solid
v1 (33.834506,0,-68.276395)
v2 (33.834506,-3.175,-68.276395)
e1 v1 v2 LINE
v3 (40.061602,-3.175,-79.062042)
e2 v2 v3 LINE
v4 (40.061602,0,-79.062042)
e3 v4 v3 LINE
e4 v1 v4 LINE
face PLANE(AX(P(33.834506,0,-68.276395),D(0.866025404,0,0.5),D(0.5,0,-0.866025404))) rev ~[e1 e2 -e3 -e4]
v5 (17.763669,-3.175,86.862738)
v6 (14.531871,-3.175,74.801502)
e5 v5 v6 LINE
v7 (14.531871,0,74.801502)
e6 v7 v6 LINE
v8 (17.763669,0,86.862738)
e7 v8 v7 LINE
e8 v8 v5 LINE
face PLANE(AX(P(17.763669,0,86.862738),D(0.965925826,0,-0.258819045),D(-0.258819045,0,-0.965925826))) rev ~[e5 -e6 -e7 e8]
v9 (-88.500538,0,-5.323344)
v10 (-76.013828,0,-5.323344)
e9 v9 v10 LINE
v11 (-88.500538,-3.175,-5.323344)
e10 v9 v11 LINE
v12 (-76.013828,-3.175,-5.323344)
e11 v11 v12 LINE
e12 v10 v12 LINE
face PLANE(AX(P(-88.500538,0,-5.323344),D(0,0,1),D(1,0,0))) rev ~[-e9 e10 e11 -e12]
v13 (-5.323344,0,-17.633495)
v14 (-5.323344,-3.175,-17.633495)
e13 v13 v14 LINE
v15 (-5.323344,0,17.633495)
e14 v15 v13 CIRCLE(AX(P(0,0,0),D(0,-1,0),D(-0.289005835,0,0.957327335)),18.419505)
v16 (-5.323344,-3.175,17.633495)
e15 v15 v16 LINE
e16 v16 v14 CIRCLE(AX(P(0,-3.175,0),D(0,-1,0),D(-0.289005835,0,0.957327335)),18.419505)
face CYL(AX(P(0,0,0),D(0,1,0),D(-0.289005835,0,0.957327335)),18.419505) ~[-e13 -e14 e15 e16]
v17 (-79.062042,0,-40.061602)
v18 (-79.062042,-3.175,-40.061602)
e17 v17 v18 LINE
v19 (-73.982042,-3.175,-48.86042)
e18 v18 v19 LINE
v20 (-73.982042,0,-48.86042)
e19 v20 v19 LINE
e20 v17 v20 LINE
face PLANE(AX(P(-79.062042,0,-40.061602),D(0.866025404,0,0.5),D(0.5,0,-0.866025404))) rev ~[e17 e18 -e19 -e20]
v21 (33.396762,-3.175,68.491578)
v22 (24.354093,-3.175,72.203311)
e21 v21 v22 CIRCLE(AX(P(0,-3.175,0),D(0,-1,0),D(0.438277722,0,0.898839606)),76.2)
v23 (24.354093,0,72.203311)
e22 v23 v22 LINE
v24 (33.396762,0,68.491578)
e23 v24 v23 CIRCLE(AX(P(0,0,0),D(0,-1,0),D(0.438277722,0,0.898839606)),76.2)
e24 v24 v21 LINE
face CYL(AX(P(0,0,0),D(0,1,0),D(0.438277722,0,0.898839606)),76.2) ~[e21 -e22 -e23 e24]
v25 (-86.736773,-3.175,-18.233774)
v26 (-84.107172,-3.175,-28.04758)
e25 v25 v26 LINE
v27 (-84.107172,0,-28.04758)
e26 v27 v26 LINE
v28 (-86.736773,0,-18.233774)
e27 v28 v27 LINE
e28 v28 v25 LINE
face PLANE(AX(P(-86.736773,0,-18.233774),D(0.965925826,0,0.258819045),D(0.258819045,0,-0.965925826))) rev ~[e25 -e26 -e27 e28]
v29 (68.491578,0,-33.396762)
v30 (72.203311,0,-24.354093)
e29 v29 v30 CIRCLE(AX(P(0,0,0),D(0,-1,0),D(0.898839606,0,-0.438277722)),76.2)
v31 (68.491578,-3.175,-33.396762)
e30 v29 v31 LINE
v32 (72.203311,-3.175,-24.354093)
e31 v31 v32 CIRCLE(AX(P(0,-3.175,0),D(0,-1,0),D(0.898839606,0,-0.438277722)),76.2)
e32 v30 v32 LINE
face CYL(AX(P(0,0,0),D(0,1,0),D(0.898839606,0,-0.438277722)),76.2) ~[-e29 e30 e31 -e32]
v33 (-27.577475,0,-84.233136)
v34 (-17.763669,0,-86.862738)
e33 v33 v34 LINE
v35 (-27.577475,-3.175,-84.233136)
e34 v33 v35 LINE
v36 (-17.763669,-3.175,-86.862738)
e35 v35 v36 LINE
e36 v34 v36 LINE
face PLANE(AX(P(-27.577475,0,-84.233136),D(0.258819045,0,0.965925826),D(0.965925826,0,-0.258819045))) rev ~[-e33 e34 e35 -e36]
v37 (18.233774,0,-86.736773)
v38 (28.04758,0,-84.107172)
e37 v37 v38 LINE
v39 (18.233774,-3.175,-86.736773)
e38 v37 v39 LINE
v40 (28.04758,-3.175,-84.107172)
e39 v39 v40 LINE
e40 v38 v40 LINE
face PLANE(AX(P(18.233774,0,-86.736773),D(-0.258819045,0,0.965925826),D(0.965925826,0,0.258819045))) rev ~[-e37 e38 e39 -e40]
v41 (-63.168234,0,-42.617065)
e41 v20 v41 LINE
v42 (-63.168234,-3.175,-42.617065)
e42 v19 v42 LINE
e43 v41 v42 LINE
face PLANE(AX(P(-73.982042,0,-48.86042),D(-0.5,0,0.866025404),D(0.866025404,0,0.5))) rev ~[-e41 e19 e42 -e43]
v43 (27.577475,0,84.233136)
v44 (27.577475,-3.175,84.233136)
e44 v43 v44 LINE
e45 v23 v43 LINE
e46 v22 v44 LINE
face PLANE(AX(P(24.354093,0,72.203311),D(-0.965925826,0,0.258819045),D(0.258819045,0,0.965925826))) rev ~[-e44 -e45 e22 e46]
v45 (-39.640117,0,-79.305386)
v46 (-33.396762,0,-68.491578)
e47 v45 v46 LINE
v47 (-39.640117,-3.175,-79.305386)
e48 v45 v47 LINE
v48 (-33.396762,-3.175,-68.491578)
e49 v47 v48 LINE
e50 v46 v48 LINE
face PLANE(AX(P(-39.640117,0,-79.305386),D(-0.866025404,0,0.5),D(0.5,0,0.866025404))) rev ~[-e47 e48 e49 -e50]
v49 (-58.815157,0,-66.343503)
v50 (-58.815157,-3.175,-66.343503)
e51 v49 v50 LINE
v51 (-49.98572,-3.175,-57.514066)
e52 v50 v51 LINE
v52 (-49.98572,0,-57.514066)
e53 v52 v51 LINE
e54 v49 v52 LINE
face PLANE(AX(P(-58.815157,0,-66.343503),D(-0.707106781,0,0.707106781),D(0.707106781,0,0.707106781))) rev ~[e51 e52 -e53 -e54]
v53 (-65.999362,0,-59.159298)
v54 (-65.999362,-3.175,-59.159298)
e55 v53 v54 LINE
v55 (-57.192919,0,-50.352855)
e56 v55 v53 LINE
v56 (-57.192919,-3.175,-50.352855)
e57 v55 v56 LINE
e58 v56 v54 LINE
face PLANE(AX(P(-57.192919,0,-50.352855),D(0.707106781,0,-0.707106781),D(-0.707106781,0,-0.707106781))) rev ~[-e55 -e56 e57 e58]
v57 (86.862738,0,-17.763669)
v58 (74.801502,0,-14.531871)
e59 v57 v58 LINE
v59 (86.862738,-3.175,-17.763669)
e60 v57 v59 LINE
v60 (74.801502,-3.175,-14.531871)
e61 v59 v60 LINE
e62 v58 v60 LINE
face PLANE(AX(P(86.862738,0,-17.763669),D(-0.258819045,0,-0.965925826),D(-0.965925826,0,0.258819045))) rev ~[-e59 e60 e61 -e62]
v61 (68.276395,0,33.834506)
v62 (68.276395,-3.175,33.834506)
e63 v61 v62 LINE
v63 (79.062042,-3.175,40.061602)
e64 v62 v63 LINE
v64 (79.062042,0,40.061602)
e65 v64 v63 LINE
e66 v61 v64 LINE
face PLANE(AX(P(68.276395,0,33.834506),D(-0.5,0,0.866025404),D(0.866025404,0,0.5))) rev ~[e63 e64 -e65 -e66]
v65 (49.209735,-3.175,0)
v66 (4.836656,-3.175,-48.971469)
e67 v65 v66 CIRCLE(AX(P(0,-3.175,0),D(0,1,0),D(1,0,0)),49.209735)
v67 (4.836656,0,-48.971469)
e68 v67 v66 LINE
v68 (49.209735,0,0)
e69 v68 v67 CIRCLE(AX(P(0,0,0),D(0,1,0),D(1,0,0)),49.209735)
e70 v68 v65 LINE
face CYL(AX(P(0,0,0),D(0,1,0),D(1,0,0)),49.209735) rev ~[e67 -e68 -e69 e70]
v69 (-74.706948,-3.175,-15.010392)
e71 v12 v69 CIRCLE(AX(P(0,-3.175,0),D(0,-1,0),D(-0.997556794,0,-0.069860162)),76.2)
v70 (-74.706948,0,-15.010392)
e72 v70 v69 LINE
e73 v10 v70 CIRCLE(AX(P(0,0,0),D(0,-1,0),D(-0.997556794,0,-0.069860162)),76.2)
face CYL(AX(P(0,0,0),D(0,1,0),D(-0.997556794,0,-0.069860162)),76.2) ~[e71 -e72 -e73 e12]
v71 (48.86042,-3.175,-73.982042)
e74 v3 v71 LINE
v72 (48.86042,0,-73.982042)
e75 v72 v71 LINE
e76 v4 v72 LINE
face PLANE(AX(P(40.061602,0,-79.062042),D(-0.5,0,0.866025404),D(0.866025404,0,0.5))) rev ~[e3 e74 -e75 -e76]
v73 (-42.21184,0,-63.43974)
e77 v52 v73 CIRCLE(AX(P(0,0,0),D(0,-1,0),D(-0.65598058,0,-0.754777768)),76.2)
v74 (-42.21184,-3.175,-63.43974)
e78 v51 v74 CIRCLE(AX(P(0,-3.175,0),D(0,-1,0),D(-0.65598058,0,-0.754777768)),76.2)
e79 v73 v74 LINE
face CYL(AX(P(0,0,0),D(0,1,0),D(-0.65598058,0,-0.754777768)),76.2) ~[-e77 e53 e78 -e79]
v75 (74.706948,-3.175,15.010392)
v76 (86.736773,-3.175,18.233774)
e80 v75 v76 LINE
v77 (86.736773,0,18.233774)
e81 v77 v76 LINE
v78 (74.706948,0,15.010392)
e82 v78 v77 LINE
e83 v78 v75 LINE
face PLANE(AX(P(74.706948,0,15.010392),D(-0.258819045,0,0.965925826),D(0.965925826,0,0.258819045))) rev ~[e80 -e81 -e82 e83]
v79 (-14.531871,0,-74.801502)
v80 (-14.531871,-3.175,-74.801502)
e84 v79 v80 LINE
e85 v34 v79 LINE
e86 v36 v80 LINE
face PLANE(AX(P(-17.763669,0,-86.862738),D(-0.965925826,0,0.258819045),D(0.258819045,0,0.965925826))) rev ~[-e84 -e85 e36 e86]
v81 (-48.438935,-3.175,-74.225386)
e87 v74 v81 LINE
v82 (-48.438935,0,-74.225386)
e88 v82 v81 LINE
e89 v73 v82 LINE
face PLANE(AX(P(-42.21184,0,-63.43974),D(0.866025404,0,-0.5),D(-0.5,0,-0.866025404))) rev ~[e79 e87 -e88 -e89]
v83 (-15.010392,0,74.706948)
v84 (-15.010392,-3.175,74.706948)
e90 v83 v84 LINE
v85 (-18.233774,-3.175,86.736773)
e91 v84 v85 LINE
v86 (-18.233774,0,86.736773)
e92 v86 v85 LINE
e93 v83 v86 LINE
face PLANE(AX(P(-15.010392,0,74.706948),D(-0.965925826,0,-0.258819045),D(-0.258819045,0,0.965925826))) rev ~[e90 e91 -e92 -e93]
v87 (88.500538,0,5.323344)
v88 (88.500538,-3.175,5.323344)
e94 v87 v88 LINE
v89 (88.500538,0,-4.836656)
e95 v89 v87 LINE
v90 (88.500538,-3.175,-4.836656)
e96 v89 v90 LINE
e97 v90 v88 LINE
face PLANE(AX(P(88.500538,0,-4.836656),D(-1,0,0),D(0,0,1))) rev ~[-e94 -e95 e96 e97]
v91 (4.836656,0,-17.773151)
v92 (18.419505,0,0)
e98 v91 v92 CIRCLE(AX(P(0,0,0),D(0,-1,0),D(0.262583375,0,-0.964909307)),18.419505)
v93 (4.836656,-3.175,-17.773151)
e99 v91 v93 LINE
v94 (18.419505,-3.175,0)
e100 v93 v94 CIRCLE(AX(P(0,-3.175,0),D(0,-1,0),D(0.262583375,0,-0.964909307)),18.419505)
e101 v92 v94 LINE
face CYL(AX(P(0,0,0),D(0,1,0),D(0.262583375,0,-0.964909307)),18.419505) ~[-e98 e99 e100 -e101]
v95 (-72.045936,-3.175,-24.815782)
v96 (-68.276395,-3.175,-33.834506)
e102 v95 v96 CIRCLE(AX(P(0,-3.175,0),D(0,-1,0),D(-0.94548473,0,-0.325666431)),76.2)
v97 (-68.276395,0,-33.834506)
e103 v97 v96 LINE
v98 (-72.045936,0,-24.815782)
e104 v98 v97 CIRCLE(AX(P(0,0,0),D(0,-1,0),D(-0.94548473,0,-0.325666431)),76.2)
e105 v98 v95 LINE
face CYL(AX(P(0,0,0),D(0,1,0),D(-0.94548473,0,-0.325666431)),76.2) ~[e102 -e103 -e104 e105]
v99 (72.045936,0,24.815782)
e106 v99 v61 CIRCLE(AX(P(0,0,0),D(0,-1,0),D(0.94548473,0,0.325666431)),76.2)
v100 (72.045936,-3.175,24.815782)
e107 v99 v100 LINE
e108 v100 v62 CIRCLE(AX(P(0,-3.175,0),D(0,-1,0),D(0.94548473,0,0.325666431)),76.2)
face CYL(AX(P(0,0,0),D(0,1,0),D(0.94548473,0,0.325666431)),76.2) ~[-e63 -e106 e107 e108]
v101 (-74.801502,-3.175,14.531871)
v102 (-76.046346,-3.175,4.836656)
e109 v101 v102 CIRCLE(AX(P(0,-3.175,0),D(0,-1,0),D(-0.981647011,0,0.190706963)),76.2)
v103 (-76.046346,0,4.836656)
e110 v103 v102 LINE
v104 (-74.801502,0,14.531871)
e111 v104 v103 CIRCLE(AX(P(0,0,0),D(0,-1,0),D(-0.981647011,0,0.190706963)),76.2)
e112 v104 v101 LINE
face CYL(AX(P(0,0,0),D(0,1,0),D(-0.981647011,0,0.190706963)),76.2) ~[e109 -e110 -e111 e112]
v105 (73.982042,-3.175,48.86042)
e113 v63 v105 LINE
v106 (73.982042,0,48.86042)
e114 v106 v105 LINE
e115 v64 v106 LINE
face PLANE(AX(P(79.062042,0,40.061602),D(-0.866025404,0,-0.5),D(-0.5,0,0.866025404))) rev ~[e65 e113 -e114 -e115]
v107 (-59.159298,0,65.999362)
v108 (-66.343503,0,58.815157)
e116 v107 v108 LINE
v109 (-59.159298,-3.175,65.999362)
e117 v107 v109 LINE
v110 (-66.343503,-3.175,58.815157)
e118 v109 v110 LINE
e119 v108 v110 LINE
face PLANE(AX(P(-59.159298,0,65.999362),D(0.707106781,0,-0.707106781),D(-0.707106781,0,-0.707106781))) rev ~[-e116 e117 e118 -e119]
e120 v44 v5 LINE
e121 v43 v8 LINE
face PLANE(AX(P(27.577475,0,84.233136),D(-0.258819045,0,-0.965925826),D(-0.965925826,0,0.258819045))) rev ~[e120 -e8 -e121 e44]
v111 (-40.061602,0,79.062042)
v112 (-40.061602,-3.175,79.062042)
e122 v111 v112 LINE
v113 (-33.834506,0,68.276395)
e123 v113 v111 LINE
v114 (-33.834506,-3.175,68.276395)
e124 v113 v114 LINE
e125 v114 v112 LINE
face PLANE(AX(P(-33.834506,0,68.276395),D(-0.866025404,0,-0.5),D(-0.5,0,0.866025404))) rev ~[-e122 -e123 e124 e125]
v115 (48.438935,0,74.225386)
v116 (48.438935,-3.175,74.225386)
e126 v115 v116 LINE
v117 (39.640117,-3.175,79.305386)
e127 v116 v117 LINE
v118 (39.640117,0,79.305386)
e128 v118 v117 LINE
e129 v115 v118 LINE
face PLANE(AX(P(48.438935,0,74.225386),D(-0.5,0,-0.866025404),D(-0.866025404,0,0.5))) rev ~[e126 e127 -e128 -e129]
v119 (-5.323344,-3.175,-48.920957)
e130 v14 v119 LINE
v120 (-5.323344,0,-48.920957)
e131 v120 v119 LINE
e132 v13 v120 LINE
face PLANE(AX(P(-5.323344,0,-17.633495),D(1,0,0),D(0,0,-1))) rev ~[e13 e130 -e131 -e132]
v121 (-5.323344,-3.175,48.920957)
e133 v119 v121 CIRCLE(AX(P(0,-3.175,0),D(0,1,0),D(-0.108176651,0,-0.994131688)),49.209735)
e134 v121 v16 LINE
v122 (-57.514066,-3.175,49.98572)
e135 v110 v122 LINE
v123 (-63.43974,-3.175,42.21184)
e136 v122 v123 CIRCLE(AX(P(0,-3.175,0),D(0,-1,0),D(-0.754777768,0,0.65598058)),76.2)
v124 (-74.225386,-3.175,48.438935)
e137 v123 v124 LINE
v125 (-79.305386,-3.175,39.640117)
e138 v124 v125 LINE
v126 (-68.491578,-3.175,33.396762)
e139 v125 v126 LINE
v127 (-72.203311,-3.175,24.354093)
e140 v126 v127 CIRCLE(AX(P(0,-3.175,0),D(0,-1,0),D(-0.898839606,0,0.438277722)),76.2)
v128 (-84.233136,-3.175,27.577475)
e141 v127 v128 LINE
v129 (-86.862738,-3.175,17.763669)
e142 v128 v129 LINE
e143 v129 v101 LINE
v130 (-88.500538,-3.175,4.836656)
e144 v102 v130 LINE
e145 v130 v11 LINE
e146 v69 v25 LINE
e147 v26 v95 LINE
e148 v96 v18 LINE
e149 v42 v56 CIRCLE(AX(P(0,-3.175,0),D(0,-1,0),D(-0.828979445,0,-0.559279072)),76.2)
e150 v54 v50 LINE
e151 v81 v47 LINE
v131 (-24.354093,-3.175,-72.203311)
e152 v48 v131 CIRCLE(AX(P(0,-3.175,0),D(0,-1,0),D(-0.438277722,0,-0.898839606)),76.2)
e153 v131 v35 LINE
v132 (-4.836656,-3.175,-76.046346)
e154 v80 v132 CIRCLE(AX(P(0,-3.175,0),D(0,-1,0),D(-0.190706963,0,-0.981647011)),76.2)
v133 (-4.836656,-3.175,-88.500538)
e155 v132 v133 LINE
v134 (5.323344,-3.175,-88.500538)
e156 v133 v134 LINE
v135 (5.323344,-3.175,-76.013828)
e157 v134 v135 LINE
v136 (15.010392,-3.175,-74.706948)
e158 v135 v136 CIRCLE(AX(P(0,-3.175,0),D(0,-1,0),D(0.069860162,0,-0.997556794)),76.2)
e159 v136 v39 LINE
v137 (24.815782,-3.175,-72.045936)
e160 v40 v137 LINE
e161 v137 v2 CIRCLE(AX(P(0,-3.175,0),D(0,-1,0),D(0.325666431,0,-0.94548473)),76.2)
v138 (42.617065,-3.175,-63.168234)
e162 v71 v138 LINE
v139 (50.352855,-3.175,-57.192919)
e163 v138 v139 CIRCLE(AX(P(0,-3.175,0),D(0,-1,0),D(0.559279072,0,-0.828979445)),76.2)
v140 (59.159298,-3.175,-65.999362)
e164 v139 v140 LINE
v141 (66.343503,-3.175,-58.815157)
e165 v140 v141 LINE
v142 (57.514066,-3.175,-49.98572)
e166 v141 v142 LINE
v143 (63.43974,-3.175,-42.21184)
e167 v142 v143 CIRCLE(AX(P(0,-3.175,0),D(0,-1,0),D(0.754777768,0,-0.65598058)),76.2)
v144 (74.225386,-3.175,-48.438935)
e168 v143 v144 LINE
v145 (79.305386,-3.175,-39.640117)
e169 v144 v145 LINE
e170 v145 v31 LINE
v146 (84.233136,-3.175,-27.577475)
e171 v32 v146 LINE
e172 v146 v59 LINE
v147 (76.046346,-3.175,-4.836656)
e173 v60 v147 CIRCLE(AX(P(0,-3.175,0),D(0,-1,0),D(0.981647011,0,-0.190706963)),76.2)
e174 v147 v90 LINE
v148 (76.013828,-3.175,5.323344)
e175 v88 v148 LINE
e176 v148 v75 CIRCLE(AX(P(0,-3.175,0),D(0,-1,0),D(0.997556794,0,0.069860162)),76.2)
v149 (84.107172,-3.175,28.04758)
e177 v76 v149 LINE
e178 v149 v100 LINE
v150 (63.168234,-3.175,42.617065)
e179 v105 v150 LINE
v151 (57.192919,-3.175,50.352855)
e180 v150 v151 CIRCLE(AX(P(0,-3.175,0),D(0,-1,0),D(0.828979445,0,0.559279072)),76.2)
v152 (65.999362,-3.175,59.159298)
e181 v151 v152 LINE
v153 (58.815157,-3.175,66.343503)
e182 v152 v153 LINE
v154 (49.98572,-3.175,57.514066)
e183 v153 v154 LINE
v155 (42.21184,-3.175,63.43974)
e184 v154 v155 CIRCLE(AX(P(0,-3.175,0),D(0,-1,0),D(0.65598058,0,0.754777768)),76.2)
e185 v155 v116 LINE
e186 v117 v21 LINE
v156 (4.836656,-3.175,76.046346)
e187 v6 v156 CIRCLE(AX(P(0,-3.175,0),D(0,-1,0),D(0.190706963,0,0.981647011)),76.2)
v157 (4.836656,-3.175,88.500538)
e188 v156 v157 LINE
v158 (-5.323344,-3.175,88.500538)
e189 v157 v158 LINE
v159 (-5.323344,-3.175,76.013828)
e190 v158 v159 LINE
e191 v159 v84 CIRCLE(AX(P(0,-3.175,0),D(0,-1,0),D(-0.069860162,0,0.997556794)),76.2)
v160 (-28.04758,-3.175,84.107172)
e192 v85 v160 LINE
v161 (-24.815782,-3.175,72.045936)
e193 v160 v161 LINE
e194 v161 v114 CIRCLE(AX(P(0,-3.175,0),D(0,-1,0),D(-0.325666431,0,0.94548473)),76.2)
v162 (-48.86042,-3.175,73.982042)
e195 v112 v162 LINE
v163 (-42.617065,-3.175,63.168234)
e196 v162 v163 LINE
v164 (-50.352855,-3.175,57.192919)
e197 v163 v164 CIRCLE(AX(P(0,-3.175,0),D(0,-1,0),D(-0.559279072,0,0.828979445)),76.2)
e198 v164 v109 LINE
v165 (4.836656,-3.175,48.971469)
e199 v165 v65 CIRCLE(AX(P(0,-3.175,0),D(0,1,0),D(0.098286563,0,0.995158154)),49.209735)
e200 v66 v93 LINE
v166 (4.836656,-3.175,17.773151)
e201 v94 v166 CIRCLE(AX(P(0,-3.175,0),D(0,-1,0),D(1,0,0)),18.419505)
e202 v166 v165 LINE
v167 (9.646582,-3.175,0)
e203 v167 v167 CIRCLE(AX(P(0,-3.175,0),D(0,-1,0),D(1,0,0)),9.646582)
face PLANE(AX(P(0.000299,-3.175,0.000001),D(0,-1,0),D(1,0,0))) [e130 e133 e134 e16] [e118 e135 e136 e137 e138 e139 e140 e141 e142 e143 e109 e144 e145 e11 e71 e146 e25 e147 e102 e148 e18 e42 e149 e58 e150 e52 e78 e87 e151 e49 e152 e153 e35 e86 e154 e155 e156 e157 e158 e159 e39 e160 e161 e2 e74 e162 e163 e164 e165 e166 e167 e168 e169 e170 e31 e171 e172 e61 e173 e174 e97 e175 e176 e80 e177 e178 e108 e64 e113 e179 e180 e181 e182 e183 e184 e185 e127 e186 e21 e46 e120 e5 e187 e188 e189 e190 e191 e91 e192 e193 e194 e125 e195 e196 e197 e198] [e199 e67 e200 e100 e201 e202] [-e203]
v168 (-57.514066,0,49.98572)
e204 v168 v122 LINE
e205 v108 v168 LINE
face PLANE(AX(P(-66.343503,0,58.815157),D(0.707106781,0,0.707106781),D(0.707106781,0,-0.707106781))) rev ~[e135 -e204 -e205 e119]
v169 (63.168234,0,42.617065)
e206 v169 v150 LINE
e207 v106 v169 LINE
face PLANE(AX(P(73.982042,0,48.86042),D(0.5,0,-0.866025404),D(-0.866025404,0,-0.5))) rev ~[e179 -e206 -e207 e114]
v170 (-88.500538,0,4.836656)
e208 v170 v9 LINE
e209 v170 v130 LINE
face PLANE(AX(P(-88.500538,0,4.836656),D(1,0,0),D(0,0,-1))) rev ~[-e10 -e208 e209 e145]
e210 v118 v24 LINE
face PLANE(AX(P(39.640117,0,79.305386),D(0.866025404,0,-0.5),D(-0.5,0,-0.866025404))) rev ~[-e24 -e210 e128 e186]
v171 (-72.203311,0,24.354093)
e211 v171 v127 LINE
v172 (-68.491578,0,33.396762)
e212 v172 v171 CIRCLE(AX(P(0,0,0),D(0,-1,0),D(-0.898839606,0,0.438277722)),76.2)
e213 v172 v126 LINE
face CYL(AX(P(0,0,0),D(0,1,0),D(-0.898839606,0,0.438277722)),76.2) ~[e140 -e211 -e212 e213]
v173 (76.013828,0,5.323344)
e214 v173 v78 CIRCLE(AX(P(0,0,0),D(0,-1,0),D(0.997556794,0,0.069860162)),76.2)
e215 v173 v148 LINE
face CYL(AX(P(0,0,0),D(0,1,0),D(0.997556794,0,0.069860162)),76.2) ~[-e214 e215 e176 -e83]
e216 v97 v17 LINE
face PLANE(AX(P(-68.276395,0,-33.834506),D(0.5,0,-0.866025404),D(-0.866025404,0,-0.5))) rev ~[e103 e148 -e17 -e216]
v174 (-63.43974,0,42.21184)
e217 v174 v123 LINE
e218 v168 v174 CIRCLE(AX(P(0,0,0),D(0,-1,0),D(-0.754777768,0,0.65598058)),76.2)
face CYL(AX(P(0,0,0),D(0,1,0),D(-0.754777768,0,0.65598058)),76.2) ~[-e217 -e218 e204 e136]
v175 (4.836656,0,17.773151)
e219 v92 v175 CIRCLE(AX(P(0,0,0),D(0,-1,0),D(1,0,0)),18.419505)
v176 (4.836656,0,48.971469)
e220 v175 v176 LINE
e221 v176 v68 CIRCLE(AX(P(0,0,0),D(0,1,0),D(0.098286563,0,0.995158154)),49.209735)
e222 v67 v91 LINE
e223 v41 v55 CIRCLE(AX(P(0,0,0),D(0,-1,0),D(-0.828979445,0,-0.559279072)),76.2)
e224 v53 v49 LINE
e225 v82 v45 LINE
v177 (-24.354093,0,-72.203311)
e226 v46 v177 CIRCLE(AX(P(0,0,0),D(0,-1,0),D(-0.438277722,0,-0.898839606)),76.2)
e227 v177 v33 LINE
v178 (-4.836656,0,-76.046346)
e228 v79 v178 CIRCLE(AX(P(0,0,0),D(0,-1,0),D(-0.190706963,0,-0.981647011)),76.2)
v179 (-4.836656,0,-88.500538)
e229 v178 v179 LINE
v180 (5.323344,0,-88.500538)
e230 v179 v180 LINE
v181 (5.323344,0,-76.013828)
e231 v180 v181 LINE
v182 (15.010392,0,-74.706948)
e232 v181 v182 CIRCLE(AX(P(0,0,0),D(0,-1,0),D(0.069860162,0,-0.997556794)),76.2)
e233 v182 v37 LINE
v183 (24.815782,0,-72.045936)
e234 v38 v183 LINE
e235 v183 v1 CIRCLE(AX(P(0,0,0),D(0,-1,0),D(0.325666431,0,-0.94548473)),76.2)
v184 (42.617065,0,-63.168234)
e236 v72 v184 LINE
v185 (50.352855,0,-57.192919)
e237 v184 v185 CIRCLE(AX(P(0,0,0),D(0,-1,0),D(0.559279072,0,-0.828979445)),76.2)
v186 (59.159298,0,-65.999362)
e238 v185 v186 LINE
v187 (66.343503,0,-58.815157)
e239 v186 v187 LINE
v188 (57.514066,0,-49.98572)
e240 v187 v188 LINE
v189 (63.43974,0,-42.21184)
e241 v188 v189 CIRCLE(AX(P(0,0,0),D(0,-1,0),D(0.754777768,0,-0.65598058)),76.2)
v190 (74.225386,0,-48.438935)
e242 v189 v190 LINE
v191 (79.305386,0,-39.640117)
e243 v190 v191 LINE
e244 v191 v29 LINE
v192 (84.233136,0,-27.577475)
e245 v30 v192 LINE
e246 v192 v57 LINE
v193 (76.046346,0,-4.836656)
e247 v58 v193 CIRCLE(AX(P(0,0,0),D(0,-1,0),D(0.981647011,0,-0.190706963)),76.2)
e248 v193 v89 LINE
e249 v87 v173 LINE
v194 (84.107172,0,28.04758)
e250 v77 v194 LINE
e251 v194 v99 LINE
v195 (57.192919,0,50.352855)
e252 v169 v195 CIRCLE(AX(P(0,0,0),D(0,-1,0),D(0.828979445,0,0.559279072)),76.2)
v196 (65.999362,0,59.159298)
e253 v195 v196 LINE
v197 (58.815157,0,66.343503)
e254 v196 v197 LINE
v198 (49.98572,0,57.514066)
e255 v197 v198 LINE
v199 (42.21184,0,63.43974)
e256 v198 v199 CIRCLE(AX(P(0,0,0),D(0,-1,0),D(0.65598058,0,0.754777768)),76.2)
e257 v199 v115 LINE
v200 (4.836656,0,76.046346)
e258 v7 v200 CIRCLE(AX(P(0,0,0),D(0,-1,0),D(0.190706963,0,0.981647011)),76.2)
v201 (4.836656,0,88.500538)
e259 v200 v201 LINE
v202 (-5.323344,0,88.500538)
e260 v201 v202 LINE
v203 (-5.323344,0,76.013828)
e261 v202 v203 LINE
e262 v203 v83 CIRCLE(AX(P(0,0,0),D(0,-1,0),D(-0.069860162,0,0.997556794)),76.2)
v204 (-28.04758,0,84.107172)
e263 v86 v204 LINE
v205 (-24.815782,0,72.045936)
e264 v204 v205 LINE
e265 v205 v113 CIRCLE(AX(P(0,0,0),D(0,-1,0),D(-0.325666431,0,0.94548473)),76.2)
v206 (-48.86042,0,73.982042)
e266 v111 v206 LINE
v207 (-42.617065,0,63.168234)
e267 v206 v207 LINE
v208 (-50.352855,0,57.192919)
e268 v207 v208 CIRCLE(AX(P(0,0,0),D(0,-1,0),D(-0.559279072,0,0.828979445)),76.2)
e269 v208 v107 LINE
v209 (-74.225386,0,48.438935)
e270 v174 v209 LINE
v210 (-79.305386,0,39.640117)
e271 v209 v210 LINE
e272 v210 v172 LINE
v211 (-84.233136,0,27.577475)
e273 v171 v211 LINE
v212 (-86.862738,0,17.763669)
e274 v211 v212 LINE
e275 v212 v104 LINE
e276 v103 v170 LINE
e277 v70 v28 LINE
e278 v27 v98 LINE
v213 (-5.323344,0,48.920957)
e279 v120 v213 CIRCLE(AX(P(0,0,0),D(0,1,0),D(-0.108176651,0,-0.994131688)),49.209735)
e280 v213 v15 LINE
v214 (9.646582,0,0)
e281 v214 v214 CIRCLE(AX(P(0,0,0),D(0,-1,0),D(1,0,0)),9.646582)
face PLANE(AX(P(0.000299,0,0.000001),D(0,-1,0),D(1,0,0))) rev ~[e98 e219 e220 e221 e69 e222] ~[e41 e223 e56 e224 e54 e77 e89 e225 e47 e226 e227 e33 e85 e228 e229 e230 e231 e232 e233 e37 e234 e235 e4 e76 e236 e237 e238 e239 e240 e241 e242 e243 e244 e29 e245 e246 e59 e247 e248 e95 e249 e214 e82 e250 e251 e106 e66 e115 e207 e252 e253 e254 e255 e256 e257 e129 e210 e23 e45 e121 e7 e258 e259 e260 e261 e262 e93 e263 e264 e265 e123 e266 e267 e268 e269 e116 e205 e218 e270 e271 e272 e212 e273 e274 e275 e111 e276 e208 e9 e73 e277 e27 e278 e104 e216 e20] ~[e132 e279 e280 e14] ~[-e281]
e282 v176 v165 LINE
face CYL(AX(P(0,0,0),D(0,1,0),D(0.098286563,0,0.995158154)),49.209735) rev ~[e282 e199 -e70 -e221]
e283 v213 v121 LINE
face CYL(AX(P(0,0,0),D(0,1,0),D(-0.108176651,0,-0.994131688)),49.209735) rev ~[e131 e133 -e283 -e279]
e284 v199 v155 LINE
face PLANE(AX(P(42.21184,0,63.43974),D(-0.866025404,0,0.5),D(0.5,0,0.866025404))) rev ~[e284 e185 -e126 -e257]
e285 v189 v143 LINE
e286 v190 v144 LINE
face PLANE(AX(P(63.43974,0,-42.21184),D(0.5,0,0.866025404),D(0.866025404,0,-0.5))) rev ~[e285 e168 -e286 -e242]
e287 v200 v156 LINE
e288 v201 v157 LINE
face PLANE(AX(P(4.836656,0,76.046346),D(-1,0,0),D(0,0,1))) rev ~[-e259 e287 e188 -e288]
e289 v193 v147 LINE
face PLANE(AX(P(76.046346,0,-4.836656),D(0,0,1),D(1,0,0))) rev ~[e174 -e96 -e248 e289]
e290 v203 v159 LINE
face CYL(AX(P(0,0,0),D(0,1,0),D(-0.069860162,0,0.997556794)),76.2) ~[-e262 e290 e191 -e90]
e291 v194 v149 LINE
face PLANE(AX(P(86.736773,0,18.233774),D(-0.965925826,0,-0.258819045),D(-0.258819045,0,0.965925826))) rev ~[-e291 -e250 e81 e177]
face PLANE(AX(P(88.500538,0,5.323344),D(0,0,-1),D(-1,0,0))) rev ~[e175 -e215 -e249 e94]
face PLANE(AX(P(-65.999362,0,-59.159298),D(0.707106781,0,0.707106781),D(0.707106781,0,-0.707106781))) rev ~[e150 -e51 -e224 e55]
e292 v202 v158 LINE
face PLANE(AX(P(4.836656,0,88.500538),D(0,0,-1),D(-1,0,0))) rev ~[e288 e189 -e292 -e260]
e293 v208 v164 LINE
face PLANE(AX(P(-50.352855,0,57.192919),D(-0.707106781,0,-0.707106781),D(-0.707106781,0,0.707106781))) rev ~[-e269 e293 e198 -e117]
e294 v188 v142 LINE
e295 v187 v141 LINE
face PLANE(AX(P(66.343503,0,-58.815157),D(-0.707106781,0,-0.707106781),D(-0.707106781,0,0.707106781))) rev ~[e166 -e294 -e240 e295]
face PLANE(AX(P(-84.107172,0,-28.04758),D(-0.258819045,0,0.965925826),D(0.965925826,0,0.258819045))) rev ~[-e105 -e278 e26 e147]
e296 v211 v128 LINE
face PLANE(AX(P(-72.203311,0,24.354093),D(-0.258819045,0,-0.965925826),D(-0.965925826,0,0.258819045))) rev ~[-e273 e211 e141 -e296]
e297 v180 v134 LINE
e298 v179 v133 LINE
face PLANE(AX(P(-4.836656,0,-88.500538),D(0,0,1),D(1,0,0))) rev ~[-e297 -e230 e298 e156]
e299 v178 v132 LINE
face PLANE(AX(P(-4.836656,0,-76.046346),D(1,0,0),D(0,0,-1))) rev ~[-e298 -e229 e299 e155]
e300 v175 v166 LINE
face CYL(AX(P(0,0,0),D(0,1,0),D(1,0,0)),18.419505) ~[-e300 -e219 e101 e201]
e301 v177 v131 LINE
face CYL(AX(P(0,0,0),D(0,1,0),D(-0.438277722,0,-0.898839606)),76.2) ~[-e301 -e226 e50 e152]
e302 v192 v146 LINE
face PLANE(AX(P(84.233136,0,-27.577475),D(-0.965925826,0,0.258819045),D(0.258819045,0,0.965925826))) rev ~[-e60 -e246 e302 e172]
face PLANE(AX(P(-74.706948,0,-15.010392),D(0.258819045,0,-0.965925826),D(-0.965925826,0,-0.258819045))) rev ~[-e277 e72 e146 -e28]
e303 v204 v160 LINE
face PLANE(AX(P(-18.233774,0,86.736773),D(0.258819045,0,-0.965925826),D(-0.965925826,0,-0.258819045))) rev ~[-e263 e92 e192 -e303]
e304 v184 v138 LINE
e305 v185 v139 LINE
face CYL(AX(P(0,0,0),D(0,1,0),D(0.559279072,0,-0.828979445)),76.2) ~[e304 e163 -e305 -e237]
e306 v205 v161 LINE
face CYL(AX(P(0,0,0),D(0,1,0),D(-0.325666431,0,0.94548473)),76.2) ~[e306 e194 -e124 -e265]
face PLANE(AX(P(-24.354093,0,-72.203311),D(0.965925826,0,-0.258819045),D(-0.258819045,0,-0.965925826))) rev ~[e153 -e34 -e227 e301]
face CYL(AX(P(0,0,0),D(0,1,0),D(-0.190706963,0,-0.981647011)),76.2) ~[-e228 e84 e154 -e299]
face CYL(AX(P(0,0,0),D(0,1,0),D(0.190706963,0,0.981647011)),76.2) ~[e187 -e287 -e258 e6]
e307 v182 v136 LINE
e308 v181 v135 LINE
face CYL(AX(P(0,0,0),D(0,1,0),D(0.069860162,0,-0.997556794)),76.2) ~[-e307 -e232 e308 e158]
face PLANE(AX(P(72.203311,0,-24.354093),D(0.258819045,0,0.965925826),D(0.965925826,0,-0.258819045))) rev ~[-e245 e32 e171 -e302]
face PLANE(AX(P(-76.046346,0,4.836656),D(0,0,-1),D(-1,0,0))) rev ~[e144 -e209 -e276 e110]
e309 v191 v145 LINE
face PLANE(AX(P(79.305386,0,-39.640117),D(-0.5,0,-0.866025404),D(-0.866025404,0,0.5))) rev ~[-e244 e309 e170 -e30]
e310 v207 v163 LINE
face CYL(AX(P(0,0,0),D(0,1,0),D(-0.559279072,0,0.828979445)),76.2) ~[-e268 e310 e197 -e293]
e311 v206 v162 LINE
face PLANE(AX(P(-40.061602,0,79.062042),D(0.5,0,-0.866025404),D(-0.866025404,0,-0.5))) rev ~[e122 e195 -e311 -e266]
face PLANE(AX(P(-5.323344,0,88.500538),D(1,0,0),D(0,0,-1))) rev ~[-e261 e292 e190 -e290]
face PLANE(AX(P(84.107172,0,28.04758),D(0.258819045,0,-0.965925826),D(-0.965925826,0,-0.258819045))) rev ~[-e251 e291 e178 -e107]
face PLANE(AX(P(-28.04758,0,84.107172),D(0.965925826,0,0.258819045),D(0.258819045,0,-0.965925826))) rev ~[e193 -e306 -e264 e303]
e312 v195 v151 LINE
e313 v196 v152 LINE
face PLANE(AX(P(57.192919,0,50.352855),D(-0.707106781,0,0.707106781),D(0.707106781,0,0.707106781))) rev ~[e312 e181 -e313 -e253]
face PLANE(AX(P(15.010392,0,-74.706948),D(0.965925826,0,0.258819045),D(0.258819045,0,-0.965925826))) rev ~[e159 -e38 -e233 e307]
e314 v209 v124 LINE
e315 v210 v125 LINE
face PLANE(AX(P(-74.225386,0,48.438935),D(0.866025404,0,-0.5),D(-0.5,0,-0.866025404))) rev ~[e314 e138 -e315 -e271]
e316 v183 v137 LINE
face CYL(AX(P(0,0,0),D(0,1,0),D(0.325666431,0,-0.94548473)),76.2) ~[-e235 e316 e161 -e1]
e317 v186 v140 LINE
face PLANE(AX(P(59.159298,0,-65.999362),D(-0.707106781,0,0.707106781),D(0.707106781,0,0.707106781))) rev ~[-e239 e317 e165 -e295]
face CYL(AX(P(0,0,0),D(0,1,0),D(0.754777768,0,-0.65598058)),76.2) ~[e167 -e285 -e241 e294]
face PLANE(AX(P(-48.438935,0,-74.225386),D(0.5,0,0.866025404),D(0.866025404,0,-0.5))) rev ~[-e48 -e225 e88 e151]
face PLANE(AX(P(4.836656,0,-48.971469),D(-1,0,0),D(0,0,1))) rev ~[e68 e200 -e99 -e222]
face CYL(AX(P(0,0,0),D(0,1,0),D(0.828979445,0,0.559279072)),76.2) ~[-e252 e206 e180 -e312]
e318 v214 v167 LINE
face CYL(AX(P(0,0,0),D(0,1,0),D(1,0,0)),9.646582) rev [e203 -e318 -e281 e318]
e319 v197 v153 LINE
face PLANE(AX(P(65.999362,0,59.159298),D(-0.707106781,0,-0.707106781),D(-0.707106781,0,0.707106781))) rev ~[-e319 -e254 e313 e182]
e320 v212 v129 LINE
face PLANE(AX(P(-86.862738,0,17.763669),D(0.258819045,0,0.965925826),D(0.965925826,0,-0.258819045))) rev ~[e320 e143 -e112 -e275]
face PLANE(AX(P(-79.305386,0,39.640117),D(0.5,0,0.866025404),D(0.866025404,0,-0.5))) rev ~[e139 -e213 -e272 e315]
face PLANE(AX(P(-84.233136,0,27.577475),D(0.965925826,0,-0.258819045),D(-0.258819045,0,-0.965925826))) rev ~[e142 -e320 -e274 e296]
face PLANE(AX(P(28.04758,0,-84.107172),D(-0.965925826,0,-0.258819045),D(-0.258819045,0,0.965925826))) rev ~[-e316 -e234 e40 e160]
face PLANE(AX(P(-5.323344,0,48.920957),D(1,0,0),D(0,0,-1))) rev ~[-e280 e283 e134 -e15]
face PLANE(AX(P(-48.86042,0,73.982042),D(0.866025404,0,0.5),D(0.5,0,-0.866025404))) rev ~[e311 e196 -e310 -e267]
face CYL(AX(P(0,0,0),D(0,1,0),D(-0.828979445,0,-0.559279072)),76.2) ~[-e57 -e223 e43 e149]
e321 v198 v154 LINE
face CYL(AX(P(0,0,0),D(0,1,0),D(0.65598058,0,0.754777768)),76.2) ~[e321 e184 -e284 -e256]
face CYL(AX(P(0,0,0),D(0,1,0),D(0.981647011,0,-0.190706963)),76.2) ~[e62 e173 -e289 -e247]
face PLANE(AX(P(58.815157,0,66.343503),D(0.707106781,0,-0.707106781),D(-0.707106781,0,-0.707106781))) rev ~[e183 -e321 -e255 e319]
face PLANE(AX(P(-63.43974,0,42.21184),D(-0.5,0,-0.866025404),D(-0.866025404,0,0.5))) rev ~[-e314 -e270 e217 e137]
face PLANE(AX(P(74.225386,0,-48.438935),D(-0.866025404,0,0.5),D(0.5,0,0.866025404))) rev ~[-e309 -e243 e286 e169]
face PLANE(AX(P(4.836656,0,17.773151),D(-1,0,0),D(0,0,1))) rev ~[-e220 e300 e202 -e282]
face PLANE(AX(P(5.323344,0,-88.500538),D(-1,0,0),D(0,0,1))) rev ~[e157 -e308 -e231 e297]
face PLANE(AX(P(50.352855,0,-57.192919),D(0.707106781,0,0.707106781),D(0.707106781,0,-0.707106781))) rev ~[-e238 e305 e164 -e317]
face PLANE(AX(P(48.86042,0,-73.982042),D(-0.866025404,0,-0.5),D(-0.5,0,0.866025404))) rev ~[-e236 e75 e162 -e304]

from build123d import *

# Parameters (mm, degrees)
F0_R     = 9.6465824974
F1_DEPTH = 3.175


with BuildPart() as f1:
    # F0 (on Front) → F1 (new body)
    with BuildSketch(Plane.XZ):
        with BuildLine():
            ThreePointArc((4.8366556875, 76.0463461434), (-0.2438868924, 76.1996097049), (-5.3233443125, 76.0138277245))
            ThreePointArc((-5.3233443125, 76.0138277245), (-10.1878453097, 75.5158778532), (-15.0103920509, 74.7069483414))
            ThreePointArc((-15.0103920509, 74.7069483414), (-19.9574868691, 73.5400483945), (-24.8157820599, 72.0459364625))
            ThreePointArc((-24.8157820599, 72.0459364625), (-29.3856502949, 70.3059283186), (-33.8345063769, 68.2763954689))
            ThreePointArc((-33.8345063769, 68.2763954689), (-38.311017097, 65.8688543167), (-42.6170652699, 63.1682336921))
            ThreePointArc((-42.6170652699, 63.1682336921), (-46.5808717746, 60.3047459551), (-50.3528550075, 57.1929190774))
            ThreePointArc((-50.3528550075, 57.1929190774), (-54.0537148216, 53.7088066706), (-57.5140659099, 49.985720186))
            ThreePointArc((-57.5140659099, 49.985720186), (-60.6016838214, 46.1938948131), (-63.4397397814, 42.2118397665))
            ThreePointArc((-63.4397397814, 42.2118397665), (-66.1127412091, 37.888592608), (-68.4915780045, 33.3967624546))
            ThreePointArc((-68.4915780045, 33.3967624546), (-70.4925912648, 28.9350060786), (-72.2033111283, 24.3540933338))
            ThreePointArc((-72.2033111283, 24.3540933338), (-73.6662935398, 19.4863335729), (-74.8015022459, 14.5318705526))
            ThreePointArc((-74.8015022459, 14.5318705526), (-75.579545108, 9.7042444972), (-76.0463461434, 4.8366556875))
            ThreePointArc((-76.0463461434, 4.8366556875), (-76.1996097049, -0.2438868924), (-76.0138277245, -5.3233443125))
            ThreePointArc((-76.0138277245, -5.3233443125), (-75.5158778532, -10.1878453097), (-74.7069483414, -15.0103920509))
            ThreePointArc((-74.7069483414, -15.0103920509), (-73.5400483945, -19.9574868691), (-72.0459364625, -24.8157820599))
            ThreePointArc((-72.0459364625, -24.8157820599), (-70.3059283186, -29.3856502949), (-68.2763954689, -33.8345063769))
            ThreePointArc((-68.2763954689, -33.8345063769), (-65.8688543167, -38.311017097), (-63.1682336921, -42.6170652699))
            ThreePointArc((-63.1682336921, -42.6170652699), (-60.3047459551, -46.5808717746), (-57.1929190774, -50.3528550075))
            ThreePointArc((-57.1929190774, -50.3528550075), (-53.7088066706, -54.0537148216), (-49.985720186, -57.5140659099))
            ThreePointArc((-49.985720186, -57.5140659099), (-46.1938948131, -60.6016838214), (-42.2118397665, -63.4397397814))
            ThreePointArc((-42.2118397665, -63.4397397814), (-37.888592608, -66.1127412091), (-33.3967624546, -68.4915780045))
            ThreePointArc((-33.3967624546, -68.4915780045), (-28.9350060786, -70.4925912648), (-24.3540933338, -72.2033111283))
            ThreePointArc((-24.3540933338, -72.2033111283), (-19.4863335729, -73.6662935398), (-14.5318705526, -74.8015022459))
            ThreePointArc((-14.5318705526, -74.8015022459), (-9.7042444972, -75.579545108), (-4.8366556875, -76.0463461434))
            ThreePointArc((-4.8366556875, -76.0463461434), (0.2438868924, -76.1996097049), (5.3233443125, -76.0138277245))
            ThreePointArc((5.3233443125, -76.0138277245), (10.1878453097, -75.5158778532), (15.0103920509, -74.7069483414))
            ThreePointArc((15.0103920509, -74.7069483414), (19.9574868691, -73.5400483945), (24.8157820599, -72.0459364625))
            ThreePointArc((24.8157820599, -72.0459364625), (29.3856502949, -70.3059283186), (33.8345063769, -68.2763954689))
            ThreePointArc((33.8345063769, -68.2763954689), (38.311017097, -65.8688543167), (42.6170652699, -63.1682336921))
            ThreePointArc((42.6170652699, -63.1682336921), (46.5808717746, -60.3047459551), (50.3528550075, -57.1929190774))
            ThreePointArc((50.3528550075, -57.1929190774), (54.0537148216, -53.7088066706), (57.5140659099, -49.985720186))
            ThreePointArc((57.5140659099, -49.985720186), (60.6016838214, -46.1938948131), (63.4397397814, -42.2118397665))
            ThreePointArc((63.4397397814, -42.2118397665), (66.1127412091, -37.888592608), (68.4915780045, -33.3967624546))
            ThreePointArc((68.4915780045, -33.3967624546), (70.4925912648, -28.9350060786), (72.2033111283, -24.3540933338))
            ThreePointArc((72.2033111283, -24.3540933338), (73.6662935398, -19.4863335729), (74.8015022459, -14.5318705526))
            ThreePointArc((74.8015022459, -14.5318705526), (75.579545108, -9.7042444972), (76.0463461434, -4.8366556875))
            ThreePointArc((76.0463461434, -4.8366556875), (76.1615768486, -2.4195478786), (76.2, 0))
            ThreePointArc((76.2, 0), (76.1534427082, 2.6632994004), (76.0138277245, 5.3233443125))
            ThreePointArc((76.0138277245, 5.3233443125), (75.5158778532, 10.1878453097), (74.7069483414, 15.0103920509))
            ThreePointArc((74.7069483414, 15.0103920509), (73.5400483945, 19.9574868691), (72.0459364625, 24.8157820599))
            ThreePointArc((72.0459364625, 24.8157820599), (70.3059283186, 29.3856502949), (68.2763954689, 33.8345063769))
            ThreePointArc((68.2763954689, 33.8345063769), (65.8688543167, 38.311017097), (63.1682336921, 42.6170652699))
            ThreePointArc((63.1682336921, 42.6170652699), (60.3047459551, 46.5808717746), (57.1929190774, 50.3528550075))
            ThreePointArc((57.1929190774, 50.3528550075), (53.7088066706, 54.0537148216), (49.985720186, 57.5140659099))
            ThreePointArc((49.985720186, 57.5140659099), (46.1938948131, 60.6016838214), (42.2118397665, 63.4397397814))
            ThreePointArc((42.2118397665, 63.4397397814), (37.888592608, 66.1127412091), (33.3967624546, 68.4915780045))
            ThreePointArc((33.3967624546, 68.4915780045), (28.9350060786, 70.4925912648), (24.3540933338, 72.2033111283))
            ThreePointArc((24.3540933338, 72.2033111283), (19.4863335729, 73.6662935398), (14.5318705526, 74.8015022459))
            ThreePointArc((14.5318705526, 74.8015022459), (9.7042444972, 75.579545108), (4.8366556875, 76.0463461434))
        make_face()
        with BuildLine():
            ThreePointArc((-5.3233443125, 48.920956801), (-0.2446514329, 49.2091267416), (4.8366556875, 48.9714689463))
            ThreePointArc((4.8366556875, 48.9714689463), (36.4664815494, 33.0423021656), (49.2097349007, 0))
            ThreePointArc((49.2097349007, 0), (36.4664815494, -33.0423021656), (4.8366556875, -48.9714689463))
            ThreePointArc((4.8366556875, -48.9714689463), (-0.2446514329, -49.2091267416), (-5.3233443125, -48.920956801))
            ThreePointArc((-5.3233443125, -48.920956801), (-49.2097349007, 0), (-5.3233443125, 48.920956801))
        make_face(mode=Mode.SUBTRACT)
        with BuildLine():
            ThreePointArc((4.8366556875, -17.7731514304), (14.6350085707, -11.1845730424), (18.4195046081, 0))
            ThreePointArc((18.4195046081, 0), (14.6350085707, 11.1845730424), (4.8366556875, 17.7731514304))
            ThreePointArc((4.8366556875, 17.7731514304), (-0.2531647989, 18.4177647284), (-5.3233443125, 17.6334952672))
            ThreePointArc((-5.3233443125, 17.6334952672), (-18.4195046081, 0), (-5.3233443125, -17.6334952672))
            ThreePointArc((-5.3233443125, -17.6334952672), (-0.2531647989, -18.4177647284), (4.8366556875, -17.7731514304))
        make_face()
        Circle(F0_R, mode=Mode.SUBTRACT)
        with BuildLine():
            ThreePointArc((-5.3233443125, 17.6334952672), (-0.2531647989, 18.4177647284), (4.8366556875, 17.7731514304))
            Line((4.8366556875, 17.7731514304), (4.8366556875, 48.9714689463))
            ThreePointArc((4.8366556875, 48.9714689463), (-0.2446514329, 49.2091267416), (-5.3233443125, 48.920956801))
            Line((-5.3233443125, 48.920956801), (-5.3233443125, 17.6334952672))
        make_face()
        with BuildLine():
            Line((4.8366556875, -48.9714689463), (4.8366556875, -17.7731514304))
            ThreePointArc((4.8366556875, -17.7731514304), (-0.2531647989, -18.4177647284), (-5.3233443125, -17.6334952672))
            Line((-5.3233443125, -17.6334952672), (-5.3233443125, -48.920956801))
            ThreePointArc((-5.3233443125, -48.920956801), (-0.2446514329, -49.2091267416), (4.8366556875, -48.9714689463))
        make_face()
        with BuildLine():
            ThreePointArc((5.3233443125, -76.0138277245), (0.2438868924, -76.1996097049), (-4.8366556875, -76.0463461434))
            Line((-4.8366556875, -76.0463461434), (-4.8366556875, -88.5005375114))
            Line((-4.8366556875, -88.5005375114), (5.3233443125, -88.5005375114))
            Line((5.3233443125, -88.5005375114), (5.3233443125, -76.0138277245))
        make_face()
        with BuildLine():
            Line((28.0475803634, -84.107171931), (24.8157820599, -72.0459364625))
            ThreePointArc((24.8157820599, -72.0459364625), (19.9574868691, -73.5400483945), (15.0103920509, -74.7069483414))
            Line((15.0103920509, -74.7069483414), (18.2337739683, -86.7367734293))
            Line((18.2337739683, -86.7367734293), (28.0475803634, -84.107171931))
        make_face()
        with BuildLine():
            Line((48.8604201634, -73.9820415772), (42.6170652699, -63.1682336921))
            ThreePointArc((42.6170652699, -63.1682336921), (38.311017097, -65.8688543167), (33.8345063769, -68.2763954689))
            Line((33.8345063769, -68.2763954689), (40.0616020609, -79.0620415772))
            Line((40.0616020609, -79.0620415772), (48.8604201634, -73.9820415772))
        make_face()
        with BuildLine():
            Line((66.3435030749, -58.815157351), (57.5140659099, -49.985720186))
            ThreePointArc((57.5140659099, -49.985720186), (54.0537148216, -53.7088066706), (50.3528550075, -57.1929190774))
            Line((50.3528550075, -57.1929190774), (59.1592981781, -65.9993622479))
            Line((59.1592981781, -65.9993622479), (66.3435030749, -58.815157351))
        make_face()
        with BuildLine():
            Line((79.3053858897, -39.640117348), (68.4915780045, -33.3967624546))
            ThreePointArc((68.4915780045, -33.3967624546), (66.1127412091, -37.888592608), (63.4397397814, -42.2118397665))
            Line((63.4397397814, -42.2118397665), (74.2253858897, -48.4389354505))
            Line((74.2253858897, -48.4389354505), (79.3053858897, -39.640117348))
        make_face()
        with BuildLine():
            Line((86.8627377144, -17.7636688561), (74.8015022459, -14.5318705526))
            ThreePointArc((74.8015022459, -14.5318705526), (73.6662935398, -19.4863335729), (72.2033111283, -24.3540933338))
            Line((72.2033111283, -24.3540933338), (84.2331362162, -27.5774752512))
            Line((84.2331362162, -27.5774752512), (86.8627377144, -17.7636688561))
        make_face()
        with BuildLine():
            Line((88.5005375114, 5.3233443125), (76.0138277245, 5.3233443125))
            ThreePointArc((76.0138277245, 5.3233443125), (76.1534427082, 2.6632994004), (76.2, 0))
            ThreePointArc((76.2, 0), (76.1615768486, -2.4195478786), (76.0463461434, -4.8366556875))
            Line((76.0463461434, -4.8366556875), (88.5005375114, -4.8366556875))
            Line((88.5005375114, -4.8366556875), (88.5005375114, 5.3233443125))
        make_face()
        with BuildLine():
            Line((84.107171931, 28.0475803634), (72.0459364625, 24.8157820599))
            ThreePointArc((72.0459364625, 24.8157820599), (73.5400483945, 19.9574868691), (74.7069483414, 15.0103920509))
            Line((74.7069483414, 15.0103920509), (86.7367734293, 18.2337739683))
            Line((86.7367734293, 18.2337739683), (84.107171931, 28.0475803634))
        make_face()
        with BuildLine():
            Line((73.9820415772, 48.8604201634), (63.1682336921, 42.6170652699))
            ThreePointArc((63.1682336921, 42.6170652699), (65.8688543167, 38.311017097), (68.2763954689, 33.8345063769))
            Line((68.2763954689, 33.8345063769), (79.0620415772, 40.0616020609))
            Line((79.0620415772, 40.0616020609), (73.9820415772, 48.8604201634))
        make_face()
        with BuildLine():
            Line((39.640117348, 79.3053858897), (33.3967624546, 68.4915780045))
            ThreePointArc((33.3967624546, 68.4915780045), (37.888592608, 66.1127412091), (42.2118397665, 63.4397397814))
            Line((42.2118397665, 63.4397397814), (48.4389354505, 74.2253858897))
            Line((48.4389354505, 74.2253858897), (39.640117348, 79.3053858897))
        make_face()
        with BuildLine():
            Line((17.7636688561, 86.8627377144), (14.5318705526, 74.8015022459))
            ThreePointArc((14.5318705526, 74.8015022459), (19.4863335729, 73.6662935398), (24.3540933338, 72.2033111283))
            Line((24.3540933338, 72.2033111283), (27.5774752512, 84.2331362162))
            Line((27.5774752512, 84.2331362162), (17.7636688561, 86.8627377144))
        make_face()
        with BuildLine():
            Line((58.815157351, 66.3435030749), (49.985720186, 57.5140659099))
            ThreePointArc((49.985720186, 57.5140659099), (53.7088066706, 54.0537148216), (57.1929190774, 50.3528550075))
            Line((57.1929190774, 50.3528550075), (65.9993622479, 59.1592981781))
            Line((65.9993622479, 59.1592981781), (58.815157351, 66.3435030749))
        make_face()
        with BuildLine():
            Line((-5.3233443125, 88.5005375114), (-5.3233443125, 76.0138277245))
            ThreePointArc((-5.3233443125, 76.0138277245), (-0.2438868924, 76.1996097049), (4.8366556875, 76.0463461434))
            Line((4.8366556875, 76.0463461434), (4.8366556875, 88.5005375114))
            Line((4.8366556875, 88.5005375114), (-5.3233443125, 88.5005375114))
        make_face()
        with BuildLine():
            ThreePointArc((-24.8157820599, 72.0459364625), (-19.9574868691, 73.5400483945), (-15.0103920509, 74.7069483414))
            Line((-15.0103920509, 74.7069483414), (-18.2337739683, 86.7367734293))
            Line((-18.2337739683, 86.7367734293), (-28.0475803634, 84.107171931))
            Line((-28.0475803634, 84.107171931), (-24.8157820599, 72.0459364625))
        make_face()
        with BuildLine():
            ThreePointArc((-42.6170652699, 63.1682336921), (-38.311017097, 65.8688543167), (-33.8345063769, 68.2763954689))
            Line((-33.8345063769, 68.2763954689), (-40.0616020609, 79.0620415772))
            Line((-40.0616020609, 79.0620415772), (-48.8604201634, 73.9820415772))
            Line((-48.8604201634, 73.9820415772), (-42.6170652699, 63.1682336921))
        make_face()
        with BuildLine():
            ThreePointArc((-57.5140659099, 49.985720186), (-54.0537148216, 53.7088066706), (-50.3528550075, 57.1929190774))
            Line((-50.3528550075, 57.1929190774), (-59.1592981781, 65.9993622479))
            Line((-59.1592981781, 65.9993622479), (-66.3435030749, 58.815157351))
            Line((-66.3435030749, 58.815157351), (-57.5140659099, 49.985720186))
        make_face()
        with BuildLine():
            ThreePointArc((-68.4915780045, 33.3967624546), (-66.1127412091, 37.888592608), (-63.4397397814, 42.2118397665))
            Line((-63.4397397814, 42.2118397665), (-74.2253858897, 48.4389354505))
            Line((-74.2253858897, 48.4389354505), (-79.3053858897, 39.640117348))
            Line((-79.3053858897, 39.640117348), (-68.4915780045, 33.3967624546))
        make_face()
        with BuildLine():
            ThreePointArc((-74.8015022459, 14.5318705526), (-73.6662935398, 19.4863335729), (-72.2033111283, 24.3540933338))
            Line((-72.2033111283, 24.3540933338), (-84.2331362162, 27.5774752512))
            Line((-84.2331362162, 27.5774752512), (-86.8627377144, 17.7636688561))
            Line((-86.8627377144, 17.7636688561), (-74.8015022459, 14.5318705526))
        make_face()
        with BuildLine():
            ThreePointArc((-76.0138277245, -5.3233443125), (-76.1996097049, -0.2438868924), (-76.0463461434, 4.8366556875))
            Line((-76.0463461434, 4.8366556875), (-88.5005375114, 4.8366556875))
            Line((-88.5005375114, 4.8366556875), (-88.5005375114, -5.3233443125))
            Line((-88.5005375114, -5.3233443125), (-76.0138277245, -5.3233443125))
        make_face()
        with BuildLine():
            ThreePointArc((-72.0459364625, -24.8157820599), (-73.5400483945, -19.9574868691), (-74.7069483414, -15.0103920509))
            Line((-74.7069483414, -15.0103920509), (-86.7367734293, -18.2337739683))
            Line((-86.7367734293, -18.2337739683), (-84.107171931, -28.0475803634))
            Line((-84.107171931, -28.0475803634), (-72.0459364625, -24.8157820599))
        make_face()
        with BuildLine():
            ThreePointArc((-63.1682336921, -42.6170652699), (-65.8688543167, -38.311017097), (-68.2763954689, -33.8345063769))
            Line((-68.2763954689, -33.8345063769), (-79.0620415772, -40.0616020609))
            Line((-79.0620415772, -40.0616020609), (-73.9820415772, -48.8604201634))
            Line((-73.9820415772, -48.8604201634), (-63.1682336921, -42.6170652699))
        make_face()
        with BuildLine():
            ThreePointArc((-49.985720186, -57.5140659099), (-53.7088066706, -54.0537148216), (-57.1929190774, -50.3528550075))
            Line((-57.1929190774, -50.3528550075), (-65.9993622479, -59.1592981781))
            Line((-65.9993622479, -59.1592981781), (-58.815157351, -66.3435030749))
            Line((-58.815157351, -66.3435030749), (-49.985720186, -57.5140659099))
        make_face()
        with BuildLine():
            ThreePointArc((-33.3967624546, -68.4915780045), (-37.888592608, -66.1127412091), (-42.2118397665, -63.4397397814))
            Line((-42.2118397665, -63.4397397814), (-48.4389354505, -74.2253858897))
            Line((-48.4389354505, -74.2253858897), (-39.640117348, -79.3053858897))
            Line((-39.640117348, -79.3053858897), (-33.3967624546, -68.4915780045))
        make_face()
        with BuildLine():
            ThreePointArc((-14.5318705526, -74.8015022459), (-19.4863335729, -73.6662935398), (-24.3540933338, -72.2033111283))
            Line((-24.3540933338, -72.2033111283), (-27.5774752512, -84.2331362162))
            Line((-27.5774752512, -84.2331362162), (-17.7636688561, -86.8627377144))
            Line((-17.7636688561, -86.8627377144), (-14.5318705526, -74.8015022459))
        make_face()
    extrude(amount=F1_DEPTH)


solid = f1.part
